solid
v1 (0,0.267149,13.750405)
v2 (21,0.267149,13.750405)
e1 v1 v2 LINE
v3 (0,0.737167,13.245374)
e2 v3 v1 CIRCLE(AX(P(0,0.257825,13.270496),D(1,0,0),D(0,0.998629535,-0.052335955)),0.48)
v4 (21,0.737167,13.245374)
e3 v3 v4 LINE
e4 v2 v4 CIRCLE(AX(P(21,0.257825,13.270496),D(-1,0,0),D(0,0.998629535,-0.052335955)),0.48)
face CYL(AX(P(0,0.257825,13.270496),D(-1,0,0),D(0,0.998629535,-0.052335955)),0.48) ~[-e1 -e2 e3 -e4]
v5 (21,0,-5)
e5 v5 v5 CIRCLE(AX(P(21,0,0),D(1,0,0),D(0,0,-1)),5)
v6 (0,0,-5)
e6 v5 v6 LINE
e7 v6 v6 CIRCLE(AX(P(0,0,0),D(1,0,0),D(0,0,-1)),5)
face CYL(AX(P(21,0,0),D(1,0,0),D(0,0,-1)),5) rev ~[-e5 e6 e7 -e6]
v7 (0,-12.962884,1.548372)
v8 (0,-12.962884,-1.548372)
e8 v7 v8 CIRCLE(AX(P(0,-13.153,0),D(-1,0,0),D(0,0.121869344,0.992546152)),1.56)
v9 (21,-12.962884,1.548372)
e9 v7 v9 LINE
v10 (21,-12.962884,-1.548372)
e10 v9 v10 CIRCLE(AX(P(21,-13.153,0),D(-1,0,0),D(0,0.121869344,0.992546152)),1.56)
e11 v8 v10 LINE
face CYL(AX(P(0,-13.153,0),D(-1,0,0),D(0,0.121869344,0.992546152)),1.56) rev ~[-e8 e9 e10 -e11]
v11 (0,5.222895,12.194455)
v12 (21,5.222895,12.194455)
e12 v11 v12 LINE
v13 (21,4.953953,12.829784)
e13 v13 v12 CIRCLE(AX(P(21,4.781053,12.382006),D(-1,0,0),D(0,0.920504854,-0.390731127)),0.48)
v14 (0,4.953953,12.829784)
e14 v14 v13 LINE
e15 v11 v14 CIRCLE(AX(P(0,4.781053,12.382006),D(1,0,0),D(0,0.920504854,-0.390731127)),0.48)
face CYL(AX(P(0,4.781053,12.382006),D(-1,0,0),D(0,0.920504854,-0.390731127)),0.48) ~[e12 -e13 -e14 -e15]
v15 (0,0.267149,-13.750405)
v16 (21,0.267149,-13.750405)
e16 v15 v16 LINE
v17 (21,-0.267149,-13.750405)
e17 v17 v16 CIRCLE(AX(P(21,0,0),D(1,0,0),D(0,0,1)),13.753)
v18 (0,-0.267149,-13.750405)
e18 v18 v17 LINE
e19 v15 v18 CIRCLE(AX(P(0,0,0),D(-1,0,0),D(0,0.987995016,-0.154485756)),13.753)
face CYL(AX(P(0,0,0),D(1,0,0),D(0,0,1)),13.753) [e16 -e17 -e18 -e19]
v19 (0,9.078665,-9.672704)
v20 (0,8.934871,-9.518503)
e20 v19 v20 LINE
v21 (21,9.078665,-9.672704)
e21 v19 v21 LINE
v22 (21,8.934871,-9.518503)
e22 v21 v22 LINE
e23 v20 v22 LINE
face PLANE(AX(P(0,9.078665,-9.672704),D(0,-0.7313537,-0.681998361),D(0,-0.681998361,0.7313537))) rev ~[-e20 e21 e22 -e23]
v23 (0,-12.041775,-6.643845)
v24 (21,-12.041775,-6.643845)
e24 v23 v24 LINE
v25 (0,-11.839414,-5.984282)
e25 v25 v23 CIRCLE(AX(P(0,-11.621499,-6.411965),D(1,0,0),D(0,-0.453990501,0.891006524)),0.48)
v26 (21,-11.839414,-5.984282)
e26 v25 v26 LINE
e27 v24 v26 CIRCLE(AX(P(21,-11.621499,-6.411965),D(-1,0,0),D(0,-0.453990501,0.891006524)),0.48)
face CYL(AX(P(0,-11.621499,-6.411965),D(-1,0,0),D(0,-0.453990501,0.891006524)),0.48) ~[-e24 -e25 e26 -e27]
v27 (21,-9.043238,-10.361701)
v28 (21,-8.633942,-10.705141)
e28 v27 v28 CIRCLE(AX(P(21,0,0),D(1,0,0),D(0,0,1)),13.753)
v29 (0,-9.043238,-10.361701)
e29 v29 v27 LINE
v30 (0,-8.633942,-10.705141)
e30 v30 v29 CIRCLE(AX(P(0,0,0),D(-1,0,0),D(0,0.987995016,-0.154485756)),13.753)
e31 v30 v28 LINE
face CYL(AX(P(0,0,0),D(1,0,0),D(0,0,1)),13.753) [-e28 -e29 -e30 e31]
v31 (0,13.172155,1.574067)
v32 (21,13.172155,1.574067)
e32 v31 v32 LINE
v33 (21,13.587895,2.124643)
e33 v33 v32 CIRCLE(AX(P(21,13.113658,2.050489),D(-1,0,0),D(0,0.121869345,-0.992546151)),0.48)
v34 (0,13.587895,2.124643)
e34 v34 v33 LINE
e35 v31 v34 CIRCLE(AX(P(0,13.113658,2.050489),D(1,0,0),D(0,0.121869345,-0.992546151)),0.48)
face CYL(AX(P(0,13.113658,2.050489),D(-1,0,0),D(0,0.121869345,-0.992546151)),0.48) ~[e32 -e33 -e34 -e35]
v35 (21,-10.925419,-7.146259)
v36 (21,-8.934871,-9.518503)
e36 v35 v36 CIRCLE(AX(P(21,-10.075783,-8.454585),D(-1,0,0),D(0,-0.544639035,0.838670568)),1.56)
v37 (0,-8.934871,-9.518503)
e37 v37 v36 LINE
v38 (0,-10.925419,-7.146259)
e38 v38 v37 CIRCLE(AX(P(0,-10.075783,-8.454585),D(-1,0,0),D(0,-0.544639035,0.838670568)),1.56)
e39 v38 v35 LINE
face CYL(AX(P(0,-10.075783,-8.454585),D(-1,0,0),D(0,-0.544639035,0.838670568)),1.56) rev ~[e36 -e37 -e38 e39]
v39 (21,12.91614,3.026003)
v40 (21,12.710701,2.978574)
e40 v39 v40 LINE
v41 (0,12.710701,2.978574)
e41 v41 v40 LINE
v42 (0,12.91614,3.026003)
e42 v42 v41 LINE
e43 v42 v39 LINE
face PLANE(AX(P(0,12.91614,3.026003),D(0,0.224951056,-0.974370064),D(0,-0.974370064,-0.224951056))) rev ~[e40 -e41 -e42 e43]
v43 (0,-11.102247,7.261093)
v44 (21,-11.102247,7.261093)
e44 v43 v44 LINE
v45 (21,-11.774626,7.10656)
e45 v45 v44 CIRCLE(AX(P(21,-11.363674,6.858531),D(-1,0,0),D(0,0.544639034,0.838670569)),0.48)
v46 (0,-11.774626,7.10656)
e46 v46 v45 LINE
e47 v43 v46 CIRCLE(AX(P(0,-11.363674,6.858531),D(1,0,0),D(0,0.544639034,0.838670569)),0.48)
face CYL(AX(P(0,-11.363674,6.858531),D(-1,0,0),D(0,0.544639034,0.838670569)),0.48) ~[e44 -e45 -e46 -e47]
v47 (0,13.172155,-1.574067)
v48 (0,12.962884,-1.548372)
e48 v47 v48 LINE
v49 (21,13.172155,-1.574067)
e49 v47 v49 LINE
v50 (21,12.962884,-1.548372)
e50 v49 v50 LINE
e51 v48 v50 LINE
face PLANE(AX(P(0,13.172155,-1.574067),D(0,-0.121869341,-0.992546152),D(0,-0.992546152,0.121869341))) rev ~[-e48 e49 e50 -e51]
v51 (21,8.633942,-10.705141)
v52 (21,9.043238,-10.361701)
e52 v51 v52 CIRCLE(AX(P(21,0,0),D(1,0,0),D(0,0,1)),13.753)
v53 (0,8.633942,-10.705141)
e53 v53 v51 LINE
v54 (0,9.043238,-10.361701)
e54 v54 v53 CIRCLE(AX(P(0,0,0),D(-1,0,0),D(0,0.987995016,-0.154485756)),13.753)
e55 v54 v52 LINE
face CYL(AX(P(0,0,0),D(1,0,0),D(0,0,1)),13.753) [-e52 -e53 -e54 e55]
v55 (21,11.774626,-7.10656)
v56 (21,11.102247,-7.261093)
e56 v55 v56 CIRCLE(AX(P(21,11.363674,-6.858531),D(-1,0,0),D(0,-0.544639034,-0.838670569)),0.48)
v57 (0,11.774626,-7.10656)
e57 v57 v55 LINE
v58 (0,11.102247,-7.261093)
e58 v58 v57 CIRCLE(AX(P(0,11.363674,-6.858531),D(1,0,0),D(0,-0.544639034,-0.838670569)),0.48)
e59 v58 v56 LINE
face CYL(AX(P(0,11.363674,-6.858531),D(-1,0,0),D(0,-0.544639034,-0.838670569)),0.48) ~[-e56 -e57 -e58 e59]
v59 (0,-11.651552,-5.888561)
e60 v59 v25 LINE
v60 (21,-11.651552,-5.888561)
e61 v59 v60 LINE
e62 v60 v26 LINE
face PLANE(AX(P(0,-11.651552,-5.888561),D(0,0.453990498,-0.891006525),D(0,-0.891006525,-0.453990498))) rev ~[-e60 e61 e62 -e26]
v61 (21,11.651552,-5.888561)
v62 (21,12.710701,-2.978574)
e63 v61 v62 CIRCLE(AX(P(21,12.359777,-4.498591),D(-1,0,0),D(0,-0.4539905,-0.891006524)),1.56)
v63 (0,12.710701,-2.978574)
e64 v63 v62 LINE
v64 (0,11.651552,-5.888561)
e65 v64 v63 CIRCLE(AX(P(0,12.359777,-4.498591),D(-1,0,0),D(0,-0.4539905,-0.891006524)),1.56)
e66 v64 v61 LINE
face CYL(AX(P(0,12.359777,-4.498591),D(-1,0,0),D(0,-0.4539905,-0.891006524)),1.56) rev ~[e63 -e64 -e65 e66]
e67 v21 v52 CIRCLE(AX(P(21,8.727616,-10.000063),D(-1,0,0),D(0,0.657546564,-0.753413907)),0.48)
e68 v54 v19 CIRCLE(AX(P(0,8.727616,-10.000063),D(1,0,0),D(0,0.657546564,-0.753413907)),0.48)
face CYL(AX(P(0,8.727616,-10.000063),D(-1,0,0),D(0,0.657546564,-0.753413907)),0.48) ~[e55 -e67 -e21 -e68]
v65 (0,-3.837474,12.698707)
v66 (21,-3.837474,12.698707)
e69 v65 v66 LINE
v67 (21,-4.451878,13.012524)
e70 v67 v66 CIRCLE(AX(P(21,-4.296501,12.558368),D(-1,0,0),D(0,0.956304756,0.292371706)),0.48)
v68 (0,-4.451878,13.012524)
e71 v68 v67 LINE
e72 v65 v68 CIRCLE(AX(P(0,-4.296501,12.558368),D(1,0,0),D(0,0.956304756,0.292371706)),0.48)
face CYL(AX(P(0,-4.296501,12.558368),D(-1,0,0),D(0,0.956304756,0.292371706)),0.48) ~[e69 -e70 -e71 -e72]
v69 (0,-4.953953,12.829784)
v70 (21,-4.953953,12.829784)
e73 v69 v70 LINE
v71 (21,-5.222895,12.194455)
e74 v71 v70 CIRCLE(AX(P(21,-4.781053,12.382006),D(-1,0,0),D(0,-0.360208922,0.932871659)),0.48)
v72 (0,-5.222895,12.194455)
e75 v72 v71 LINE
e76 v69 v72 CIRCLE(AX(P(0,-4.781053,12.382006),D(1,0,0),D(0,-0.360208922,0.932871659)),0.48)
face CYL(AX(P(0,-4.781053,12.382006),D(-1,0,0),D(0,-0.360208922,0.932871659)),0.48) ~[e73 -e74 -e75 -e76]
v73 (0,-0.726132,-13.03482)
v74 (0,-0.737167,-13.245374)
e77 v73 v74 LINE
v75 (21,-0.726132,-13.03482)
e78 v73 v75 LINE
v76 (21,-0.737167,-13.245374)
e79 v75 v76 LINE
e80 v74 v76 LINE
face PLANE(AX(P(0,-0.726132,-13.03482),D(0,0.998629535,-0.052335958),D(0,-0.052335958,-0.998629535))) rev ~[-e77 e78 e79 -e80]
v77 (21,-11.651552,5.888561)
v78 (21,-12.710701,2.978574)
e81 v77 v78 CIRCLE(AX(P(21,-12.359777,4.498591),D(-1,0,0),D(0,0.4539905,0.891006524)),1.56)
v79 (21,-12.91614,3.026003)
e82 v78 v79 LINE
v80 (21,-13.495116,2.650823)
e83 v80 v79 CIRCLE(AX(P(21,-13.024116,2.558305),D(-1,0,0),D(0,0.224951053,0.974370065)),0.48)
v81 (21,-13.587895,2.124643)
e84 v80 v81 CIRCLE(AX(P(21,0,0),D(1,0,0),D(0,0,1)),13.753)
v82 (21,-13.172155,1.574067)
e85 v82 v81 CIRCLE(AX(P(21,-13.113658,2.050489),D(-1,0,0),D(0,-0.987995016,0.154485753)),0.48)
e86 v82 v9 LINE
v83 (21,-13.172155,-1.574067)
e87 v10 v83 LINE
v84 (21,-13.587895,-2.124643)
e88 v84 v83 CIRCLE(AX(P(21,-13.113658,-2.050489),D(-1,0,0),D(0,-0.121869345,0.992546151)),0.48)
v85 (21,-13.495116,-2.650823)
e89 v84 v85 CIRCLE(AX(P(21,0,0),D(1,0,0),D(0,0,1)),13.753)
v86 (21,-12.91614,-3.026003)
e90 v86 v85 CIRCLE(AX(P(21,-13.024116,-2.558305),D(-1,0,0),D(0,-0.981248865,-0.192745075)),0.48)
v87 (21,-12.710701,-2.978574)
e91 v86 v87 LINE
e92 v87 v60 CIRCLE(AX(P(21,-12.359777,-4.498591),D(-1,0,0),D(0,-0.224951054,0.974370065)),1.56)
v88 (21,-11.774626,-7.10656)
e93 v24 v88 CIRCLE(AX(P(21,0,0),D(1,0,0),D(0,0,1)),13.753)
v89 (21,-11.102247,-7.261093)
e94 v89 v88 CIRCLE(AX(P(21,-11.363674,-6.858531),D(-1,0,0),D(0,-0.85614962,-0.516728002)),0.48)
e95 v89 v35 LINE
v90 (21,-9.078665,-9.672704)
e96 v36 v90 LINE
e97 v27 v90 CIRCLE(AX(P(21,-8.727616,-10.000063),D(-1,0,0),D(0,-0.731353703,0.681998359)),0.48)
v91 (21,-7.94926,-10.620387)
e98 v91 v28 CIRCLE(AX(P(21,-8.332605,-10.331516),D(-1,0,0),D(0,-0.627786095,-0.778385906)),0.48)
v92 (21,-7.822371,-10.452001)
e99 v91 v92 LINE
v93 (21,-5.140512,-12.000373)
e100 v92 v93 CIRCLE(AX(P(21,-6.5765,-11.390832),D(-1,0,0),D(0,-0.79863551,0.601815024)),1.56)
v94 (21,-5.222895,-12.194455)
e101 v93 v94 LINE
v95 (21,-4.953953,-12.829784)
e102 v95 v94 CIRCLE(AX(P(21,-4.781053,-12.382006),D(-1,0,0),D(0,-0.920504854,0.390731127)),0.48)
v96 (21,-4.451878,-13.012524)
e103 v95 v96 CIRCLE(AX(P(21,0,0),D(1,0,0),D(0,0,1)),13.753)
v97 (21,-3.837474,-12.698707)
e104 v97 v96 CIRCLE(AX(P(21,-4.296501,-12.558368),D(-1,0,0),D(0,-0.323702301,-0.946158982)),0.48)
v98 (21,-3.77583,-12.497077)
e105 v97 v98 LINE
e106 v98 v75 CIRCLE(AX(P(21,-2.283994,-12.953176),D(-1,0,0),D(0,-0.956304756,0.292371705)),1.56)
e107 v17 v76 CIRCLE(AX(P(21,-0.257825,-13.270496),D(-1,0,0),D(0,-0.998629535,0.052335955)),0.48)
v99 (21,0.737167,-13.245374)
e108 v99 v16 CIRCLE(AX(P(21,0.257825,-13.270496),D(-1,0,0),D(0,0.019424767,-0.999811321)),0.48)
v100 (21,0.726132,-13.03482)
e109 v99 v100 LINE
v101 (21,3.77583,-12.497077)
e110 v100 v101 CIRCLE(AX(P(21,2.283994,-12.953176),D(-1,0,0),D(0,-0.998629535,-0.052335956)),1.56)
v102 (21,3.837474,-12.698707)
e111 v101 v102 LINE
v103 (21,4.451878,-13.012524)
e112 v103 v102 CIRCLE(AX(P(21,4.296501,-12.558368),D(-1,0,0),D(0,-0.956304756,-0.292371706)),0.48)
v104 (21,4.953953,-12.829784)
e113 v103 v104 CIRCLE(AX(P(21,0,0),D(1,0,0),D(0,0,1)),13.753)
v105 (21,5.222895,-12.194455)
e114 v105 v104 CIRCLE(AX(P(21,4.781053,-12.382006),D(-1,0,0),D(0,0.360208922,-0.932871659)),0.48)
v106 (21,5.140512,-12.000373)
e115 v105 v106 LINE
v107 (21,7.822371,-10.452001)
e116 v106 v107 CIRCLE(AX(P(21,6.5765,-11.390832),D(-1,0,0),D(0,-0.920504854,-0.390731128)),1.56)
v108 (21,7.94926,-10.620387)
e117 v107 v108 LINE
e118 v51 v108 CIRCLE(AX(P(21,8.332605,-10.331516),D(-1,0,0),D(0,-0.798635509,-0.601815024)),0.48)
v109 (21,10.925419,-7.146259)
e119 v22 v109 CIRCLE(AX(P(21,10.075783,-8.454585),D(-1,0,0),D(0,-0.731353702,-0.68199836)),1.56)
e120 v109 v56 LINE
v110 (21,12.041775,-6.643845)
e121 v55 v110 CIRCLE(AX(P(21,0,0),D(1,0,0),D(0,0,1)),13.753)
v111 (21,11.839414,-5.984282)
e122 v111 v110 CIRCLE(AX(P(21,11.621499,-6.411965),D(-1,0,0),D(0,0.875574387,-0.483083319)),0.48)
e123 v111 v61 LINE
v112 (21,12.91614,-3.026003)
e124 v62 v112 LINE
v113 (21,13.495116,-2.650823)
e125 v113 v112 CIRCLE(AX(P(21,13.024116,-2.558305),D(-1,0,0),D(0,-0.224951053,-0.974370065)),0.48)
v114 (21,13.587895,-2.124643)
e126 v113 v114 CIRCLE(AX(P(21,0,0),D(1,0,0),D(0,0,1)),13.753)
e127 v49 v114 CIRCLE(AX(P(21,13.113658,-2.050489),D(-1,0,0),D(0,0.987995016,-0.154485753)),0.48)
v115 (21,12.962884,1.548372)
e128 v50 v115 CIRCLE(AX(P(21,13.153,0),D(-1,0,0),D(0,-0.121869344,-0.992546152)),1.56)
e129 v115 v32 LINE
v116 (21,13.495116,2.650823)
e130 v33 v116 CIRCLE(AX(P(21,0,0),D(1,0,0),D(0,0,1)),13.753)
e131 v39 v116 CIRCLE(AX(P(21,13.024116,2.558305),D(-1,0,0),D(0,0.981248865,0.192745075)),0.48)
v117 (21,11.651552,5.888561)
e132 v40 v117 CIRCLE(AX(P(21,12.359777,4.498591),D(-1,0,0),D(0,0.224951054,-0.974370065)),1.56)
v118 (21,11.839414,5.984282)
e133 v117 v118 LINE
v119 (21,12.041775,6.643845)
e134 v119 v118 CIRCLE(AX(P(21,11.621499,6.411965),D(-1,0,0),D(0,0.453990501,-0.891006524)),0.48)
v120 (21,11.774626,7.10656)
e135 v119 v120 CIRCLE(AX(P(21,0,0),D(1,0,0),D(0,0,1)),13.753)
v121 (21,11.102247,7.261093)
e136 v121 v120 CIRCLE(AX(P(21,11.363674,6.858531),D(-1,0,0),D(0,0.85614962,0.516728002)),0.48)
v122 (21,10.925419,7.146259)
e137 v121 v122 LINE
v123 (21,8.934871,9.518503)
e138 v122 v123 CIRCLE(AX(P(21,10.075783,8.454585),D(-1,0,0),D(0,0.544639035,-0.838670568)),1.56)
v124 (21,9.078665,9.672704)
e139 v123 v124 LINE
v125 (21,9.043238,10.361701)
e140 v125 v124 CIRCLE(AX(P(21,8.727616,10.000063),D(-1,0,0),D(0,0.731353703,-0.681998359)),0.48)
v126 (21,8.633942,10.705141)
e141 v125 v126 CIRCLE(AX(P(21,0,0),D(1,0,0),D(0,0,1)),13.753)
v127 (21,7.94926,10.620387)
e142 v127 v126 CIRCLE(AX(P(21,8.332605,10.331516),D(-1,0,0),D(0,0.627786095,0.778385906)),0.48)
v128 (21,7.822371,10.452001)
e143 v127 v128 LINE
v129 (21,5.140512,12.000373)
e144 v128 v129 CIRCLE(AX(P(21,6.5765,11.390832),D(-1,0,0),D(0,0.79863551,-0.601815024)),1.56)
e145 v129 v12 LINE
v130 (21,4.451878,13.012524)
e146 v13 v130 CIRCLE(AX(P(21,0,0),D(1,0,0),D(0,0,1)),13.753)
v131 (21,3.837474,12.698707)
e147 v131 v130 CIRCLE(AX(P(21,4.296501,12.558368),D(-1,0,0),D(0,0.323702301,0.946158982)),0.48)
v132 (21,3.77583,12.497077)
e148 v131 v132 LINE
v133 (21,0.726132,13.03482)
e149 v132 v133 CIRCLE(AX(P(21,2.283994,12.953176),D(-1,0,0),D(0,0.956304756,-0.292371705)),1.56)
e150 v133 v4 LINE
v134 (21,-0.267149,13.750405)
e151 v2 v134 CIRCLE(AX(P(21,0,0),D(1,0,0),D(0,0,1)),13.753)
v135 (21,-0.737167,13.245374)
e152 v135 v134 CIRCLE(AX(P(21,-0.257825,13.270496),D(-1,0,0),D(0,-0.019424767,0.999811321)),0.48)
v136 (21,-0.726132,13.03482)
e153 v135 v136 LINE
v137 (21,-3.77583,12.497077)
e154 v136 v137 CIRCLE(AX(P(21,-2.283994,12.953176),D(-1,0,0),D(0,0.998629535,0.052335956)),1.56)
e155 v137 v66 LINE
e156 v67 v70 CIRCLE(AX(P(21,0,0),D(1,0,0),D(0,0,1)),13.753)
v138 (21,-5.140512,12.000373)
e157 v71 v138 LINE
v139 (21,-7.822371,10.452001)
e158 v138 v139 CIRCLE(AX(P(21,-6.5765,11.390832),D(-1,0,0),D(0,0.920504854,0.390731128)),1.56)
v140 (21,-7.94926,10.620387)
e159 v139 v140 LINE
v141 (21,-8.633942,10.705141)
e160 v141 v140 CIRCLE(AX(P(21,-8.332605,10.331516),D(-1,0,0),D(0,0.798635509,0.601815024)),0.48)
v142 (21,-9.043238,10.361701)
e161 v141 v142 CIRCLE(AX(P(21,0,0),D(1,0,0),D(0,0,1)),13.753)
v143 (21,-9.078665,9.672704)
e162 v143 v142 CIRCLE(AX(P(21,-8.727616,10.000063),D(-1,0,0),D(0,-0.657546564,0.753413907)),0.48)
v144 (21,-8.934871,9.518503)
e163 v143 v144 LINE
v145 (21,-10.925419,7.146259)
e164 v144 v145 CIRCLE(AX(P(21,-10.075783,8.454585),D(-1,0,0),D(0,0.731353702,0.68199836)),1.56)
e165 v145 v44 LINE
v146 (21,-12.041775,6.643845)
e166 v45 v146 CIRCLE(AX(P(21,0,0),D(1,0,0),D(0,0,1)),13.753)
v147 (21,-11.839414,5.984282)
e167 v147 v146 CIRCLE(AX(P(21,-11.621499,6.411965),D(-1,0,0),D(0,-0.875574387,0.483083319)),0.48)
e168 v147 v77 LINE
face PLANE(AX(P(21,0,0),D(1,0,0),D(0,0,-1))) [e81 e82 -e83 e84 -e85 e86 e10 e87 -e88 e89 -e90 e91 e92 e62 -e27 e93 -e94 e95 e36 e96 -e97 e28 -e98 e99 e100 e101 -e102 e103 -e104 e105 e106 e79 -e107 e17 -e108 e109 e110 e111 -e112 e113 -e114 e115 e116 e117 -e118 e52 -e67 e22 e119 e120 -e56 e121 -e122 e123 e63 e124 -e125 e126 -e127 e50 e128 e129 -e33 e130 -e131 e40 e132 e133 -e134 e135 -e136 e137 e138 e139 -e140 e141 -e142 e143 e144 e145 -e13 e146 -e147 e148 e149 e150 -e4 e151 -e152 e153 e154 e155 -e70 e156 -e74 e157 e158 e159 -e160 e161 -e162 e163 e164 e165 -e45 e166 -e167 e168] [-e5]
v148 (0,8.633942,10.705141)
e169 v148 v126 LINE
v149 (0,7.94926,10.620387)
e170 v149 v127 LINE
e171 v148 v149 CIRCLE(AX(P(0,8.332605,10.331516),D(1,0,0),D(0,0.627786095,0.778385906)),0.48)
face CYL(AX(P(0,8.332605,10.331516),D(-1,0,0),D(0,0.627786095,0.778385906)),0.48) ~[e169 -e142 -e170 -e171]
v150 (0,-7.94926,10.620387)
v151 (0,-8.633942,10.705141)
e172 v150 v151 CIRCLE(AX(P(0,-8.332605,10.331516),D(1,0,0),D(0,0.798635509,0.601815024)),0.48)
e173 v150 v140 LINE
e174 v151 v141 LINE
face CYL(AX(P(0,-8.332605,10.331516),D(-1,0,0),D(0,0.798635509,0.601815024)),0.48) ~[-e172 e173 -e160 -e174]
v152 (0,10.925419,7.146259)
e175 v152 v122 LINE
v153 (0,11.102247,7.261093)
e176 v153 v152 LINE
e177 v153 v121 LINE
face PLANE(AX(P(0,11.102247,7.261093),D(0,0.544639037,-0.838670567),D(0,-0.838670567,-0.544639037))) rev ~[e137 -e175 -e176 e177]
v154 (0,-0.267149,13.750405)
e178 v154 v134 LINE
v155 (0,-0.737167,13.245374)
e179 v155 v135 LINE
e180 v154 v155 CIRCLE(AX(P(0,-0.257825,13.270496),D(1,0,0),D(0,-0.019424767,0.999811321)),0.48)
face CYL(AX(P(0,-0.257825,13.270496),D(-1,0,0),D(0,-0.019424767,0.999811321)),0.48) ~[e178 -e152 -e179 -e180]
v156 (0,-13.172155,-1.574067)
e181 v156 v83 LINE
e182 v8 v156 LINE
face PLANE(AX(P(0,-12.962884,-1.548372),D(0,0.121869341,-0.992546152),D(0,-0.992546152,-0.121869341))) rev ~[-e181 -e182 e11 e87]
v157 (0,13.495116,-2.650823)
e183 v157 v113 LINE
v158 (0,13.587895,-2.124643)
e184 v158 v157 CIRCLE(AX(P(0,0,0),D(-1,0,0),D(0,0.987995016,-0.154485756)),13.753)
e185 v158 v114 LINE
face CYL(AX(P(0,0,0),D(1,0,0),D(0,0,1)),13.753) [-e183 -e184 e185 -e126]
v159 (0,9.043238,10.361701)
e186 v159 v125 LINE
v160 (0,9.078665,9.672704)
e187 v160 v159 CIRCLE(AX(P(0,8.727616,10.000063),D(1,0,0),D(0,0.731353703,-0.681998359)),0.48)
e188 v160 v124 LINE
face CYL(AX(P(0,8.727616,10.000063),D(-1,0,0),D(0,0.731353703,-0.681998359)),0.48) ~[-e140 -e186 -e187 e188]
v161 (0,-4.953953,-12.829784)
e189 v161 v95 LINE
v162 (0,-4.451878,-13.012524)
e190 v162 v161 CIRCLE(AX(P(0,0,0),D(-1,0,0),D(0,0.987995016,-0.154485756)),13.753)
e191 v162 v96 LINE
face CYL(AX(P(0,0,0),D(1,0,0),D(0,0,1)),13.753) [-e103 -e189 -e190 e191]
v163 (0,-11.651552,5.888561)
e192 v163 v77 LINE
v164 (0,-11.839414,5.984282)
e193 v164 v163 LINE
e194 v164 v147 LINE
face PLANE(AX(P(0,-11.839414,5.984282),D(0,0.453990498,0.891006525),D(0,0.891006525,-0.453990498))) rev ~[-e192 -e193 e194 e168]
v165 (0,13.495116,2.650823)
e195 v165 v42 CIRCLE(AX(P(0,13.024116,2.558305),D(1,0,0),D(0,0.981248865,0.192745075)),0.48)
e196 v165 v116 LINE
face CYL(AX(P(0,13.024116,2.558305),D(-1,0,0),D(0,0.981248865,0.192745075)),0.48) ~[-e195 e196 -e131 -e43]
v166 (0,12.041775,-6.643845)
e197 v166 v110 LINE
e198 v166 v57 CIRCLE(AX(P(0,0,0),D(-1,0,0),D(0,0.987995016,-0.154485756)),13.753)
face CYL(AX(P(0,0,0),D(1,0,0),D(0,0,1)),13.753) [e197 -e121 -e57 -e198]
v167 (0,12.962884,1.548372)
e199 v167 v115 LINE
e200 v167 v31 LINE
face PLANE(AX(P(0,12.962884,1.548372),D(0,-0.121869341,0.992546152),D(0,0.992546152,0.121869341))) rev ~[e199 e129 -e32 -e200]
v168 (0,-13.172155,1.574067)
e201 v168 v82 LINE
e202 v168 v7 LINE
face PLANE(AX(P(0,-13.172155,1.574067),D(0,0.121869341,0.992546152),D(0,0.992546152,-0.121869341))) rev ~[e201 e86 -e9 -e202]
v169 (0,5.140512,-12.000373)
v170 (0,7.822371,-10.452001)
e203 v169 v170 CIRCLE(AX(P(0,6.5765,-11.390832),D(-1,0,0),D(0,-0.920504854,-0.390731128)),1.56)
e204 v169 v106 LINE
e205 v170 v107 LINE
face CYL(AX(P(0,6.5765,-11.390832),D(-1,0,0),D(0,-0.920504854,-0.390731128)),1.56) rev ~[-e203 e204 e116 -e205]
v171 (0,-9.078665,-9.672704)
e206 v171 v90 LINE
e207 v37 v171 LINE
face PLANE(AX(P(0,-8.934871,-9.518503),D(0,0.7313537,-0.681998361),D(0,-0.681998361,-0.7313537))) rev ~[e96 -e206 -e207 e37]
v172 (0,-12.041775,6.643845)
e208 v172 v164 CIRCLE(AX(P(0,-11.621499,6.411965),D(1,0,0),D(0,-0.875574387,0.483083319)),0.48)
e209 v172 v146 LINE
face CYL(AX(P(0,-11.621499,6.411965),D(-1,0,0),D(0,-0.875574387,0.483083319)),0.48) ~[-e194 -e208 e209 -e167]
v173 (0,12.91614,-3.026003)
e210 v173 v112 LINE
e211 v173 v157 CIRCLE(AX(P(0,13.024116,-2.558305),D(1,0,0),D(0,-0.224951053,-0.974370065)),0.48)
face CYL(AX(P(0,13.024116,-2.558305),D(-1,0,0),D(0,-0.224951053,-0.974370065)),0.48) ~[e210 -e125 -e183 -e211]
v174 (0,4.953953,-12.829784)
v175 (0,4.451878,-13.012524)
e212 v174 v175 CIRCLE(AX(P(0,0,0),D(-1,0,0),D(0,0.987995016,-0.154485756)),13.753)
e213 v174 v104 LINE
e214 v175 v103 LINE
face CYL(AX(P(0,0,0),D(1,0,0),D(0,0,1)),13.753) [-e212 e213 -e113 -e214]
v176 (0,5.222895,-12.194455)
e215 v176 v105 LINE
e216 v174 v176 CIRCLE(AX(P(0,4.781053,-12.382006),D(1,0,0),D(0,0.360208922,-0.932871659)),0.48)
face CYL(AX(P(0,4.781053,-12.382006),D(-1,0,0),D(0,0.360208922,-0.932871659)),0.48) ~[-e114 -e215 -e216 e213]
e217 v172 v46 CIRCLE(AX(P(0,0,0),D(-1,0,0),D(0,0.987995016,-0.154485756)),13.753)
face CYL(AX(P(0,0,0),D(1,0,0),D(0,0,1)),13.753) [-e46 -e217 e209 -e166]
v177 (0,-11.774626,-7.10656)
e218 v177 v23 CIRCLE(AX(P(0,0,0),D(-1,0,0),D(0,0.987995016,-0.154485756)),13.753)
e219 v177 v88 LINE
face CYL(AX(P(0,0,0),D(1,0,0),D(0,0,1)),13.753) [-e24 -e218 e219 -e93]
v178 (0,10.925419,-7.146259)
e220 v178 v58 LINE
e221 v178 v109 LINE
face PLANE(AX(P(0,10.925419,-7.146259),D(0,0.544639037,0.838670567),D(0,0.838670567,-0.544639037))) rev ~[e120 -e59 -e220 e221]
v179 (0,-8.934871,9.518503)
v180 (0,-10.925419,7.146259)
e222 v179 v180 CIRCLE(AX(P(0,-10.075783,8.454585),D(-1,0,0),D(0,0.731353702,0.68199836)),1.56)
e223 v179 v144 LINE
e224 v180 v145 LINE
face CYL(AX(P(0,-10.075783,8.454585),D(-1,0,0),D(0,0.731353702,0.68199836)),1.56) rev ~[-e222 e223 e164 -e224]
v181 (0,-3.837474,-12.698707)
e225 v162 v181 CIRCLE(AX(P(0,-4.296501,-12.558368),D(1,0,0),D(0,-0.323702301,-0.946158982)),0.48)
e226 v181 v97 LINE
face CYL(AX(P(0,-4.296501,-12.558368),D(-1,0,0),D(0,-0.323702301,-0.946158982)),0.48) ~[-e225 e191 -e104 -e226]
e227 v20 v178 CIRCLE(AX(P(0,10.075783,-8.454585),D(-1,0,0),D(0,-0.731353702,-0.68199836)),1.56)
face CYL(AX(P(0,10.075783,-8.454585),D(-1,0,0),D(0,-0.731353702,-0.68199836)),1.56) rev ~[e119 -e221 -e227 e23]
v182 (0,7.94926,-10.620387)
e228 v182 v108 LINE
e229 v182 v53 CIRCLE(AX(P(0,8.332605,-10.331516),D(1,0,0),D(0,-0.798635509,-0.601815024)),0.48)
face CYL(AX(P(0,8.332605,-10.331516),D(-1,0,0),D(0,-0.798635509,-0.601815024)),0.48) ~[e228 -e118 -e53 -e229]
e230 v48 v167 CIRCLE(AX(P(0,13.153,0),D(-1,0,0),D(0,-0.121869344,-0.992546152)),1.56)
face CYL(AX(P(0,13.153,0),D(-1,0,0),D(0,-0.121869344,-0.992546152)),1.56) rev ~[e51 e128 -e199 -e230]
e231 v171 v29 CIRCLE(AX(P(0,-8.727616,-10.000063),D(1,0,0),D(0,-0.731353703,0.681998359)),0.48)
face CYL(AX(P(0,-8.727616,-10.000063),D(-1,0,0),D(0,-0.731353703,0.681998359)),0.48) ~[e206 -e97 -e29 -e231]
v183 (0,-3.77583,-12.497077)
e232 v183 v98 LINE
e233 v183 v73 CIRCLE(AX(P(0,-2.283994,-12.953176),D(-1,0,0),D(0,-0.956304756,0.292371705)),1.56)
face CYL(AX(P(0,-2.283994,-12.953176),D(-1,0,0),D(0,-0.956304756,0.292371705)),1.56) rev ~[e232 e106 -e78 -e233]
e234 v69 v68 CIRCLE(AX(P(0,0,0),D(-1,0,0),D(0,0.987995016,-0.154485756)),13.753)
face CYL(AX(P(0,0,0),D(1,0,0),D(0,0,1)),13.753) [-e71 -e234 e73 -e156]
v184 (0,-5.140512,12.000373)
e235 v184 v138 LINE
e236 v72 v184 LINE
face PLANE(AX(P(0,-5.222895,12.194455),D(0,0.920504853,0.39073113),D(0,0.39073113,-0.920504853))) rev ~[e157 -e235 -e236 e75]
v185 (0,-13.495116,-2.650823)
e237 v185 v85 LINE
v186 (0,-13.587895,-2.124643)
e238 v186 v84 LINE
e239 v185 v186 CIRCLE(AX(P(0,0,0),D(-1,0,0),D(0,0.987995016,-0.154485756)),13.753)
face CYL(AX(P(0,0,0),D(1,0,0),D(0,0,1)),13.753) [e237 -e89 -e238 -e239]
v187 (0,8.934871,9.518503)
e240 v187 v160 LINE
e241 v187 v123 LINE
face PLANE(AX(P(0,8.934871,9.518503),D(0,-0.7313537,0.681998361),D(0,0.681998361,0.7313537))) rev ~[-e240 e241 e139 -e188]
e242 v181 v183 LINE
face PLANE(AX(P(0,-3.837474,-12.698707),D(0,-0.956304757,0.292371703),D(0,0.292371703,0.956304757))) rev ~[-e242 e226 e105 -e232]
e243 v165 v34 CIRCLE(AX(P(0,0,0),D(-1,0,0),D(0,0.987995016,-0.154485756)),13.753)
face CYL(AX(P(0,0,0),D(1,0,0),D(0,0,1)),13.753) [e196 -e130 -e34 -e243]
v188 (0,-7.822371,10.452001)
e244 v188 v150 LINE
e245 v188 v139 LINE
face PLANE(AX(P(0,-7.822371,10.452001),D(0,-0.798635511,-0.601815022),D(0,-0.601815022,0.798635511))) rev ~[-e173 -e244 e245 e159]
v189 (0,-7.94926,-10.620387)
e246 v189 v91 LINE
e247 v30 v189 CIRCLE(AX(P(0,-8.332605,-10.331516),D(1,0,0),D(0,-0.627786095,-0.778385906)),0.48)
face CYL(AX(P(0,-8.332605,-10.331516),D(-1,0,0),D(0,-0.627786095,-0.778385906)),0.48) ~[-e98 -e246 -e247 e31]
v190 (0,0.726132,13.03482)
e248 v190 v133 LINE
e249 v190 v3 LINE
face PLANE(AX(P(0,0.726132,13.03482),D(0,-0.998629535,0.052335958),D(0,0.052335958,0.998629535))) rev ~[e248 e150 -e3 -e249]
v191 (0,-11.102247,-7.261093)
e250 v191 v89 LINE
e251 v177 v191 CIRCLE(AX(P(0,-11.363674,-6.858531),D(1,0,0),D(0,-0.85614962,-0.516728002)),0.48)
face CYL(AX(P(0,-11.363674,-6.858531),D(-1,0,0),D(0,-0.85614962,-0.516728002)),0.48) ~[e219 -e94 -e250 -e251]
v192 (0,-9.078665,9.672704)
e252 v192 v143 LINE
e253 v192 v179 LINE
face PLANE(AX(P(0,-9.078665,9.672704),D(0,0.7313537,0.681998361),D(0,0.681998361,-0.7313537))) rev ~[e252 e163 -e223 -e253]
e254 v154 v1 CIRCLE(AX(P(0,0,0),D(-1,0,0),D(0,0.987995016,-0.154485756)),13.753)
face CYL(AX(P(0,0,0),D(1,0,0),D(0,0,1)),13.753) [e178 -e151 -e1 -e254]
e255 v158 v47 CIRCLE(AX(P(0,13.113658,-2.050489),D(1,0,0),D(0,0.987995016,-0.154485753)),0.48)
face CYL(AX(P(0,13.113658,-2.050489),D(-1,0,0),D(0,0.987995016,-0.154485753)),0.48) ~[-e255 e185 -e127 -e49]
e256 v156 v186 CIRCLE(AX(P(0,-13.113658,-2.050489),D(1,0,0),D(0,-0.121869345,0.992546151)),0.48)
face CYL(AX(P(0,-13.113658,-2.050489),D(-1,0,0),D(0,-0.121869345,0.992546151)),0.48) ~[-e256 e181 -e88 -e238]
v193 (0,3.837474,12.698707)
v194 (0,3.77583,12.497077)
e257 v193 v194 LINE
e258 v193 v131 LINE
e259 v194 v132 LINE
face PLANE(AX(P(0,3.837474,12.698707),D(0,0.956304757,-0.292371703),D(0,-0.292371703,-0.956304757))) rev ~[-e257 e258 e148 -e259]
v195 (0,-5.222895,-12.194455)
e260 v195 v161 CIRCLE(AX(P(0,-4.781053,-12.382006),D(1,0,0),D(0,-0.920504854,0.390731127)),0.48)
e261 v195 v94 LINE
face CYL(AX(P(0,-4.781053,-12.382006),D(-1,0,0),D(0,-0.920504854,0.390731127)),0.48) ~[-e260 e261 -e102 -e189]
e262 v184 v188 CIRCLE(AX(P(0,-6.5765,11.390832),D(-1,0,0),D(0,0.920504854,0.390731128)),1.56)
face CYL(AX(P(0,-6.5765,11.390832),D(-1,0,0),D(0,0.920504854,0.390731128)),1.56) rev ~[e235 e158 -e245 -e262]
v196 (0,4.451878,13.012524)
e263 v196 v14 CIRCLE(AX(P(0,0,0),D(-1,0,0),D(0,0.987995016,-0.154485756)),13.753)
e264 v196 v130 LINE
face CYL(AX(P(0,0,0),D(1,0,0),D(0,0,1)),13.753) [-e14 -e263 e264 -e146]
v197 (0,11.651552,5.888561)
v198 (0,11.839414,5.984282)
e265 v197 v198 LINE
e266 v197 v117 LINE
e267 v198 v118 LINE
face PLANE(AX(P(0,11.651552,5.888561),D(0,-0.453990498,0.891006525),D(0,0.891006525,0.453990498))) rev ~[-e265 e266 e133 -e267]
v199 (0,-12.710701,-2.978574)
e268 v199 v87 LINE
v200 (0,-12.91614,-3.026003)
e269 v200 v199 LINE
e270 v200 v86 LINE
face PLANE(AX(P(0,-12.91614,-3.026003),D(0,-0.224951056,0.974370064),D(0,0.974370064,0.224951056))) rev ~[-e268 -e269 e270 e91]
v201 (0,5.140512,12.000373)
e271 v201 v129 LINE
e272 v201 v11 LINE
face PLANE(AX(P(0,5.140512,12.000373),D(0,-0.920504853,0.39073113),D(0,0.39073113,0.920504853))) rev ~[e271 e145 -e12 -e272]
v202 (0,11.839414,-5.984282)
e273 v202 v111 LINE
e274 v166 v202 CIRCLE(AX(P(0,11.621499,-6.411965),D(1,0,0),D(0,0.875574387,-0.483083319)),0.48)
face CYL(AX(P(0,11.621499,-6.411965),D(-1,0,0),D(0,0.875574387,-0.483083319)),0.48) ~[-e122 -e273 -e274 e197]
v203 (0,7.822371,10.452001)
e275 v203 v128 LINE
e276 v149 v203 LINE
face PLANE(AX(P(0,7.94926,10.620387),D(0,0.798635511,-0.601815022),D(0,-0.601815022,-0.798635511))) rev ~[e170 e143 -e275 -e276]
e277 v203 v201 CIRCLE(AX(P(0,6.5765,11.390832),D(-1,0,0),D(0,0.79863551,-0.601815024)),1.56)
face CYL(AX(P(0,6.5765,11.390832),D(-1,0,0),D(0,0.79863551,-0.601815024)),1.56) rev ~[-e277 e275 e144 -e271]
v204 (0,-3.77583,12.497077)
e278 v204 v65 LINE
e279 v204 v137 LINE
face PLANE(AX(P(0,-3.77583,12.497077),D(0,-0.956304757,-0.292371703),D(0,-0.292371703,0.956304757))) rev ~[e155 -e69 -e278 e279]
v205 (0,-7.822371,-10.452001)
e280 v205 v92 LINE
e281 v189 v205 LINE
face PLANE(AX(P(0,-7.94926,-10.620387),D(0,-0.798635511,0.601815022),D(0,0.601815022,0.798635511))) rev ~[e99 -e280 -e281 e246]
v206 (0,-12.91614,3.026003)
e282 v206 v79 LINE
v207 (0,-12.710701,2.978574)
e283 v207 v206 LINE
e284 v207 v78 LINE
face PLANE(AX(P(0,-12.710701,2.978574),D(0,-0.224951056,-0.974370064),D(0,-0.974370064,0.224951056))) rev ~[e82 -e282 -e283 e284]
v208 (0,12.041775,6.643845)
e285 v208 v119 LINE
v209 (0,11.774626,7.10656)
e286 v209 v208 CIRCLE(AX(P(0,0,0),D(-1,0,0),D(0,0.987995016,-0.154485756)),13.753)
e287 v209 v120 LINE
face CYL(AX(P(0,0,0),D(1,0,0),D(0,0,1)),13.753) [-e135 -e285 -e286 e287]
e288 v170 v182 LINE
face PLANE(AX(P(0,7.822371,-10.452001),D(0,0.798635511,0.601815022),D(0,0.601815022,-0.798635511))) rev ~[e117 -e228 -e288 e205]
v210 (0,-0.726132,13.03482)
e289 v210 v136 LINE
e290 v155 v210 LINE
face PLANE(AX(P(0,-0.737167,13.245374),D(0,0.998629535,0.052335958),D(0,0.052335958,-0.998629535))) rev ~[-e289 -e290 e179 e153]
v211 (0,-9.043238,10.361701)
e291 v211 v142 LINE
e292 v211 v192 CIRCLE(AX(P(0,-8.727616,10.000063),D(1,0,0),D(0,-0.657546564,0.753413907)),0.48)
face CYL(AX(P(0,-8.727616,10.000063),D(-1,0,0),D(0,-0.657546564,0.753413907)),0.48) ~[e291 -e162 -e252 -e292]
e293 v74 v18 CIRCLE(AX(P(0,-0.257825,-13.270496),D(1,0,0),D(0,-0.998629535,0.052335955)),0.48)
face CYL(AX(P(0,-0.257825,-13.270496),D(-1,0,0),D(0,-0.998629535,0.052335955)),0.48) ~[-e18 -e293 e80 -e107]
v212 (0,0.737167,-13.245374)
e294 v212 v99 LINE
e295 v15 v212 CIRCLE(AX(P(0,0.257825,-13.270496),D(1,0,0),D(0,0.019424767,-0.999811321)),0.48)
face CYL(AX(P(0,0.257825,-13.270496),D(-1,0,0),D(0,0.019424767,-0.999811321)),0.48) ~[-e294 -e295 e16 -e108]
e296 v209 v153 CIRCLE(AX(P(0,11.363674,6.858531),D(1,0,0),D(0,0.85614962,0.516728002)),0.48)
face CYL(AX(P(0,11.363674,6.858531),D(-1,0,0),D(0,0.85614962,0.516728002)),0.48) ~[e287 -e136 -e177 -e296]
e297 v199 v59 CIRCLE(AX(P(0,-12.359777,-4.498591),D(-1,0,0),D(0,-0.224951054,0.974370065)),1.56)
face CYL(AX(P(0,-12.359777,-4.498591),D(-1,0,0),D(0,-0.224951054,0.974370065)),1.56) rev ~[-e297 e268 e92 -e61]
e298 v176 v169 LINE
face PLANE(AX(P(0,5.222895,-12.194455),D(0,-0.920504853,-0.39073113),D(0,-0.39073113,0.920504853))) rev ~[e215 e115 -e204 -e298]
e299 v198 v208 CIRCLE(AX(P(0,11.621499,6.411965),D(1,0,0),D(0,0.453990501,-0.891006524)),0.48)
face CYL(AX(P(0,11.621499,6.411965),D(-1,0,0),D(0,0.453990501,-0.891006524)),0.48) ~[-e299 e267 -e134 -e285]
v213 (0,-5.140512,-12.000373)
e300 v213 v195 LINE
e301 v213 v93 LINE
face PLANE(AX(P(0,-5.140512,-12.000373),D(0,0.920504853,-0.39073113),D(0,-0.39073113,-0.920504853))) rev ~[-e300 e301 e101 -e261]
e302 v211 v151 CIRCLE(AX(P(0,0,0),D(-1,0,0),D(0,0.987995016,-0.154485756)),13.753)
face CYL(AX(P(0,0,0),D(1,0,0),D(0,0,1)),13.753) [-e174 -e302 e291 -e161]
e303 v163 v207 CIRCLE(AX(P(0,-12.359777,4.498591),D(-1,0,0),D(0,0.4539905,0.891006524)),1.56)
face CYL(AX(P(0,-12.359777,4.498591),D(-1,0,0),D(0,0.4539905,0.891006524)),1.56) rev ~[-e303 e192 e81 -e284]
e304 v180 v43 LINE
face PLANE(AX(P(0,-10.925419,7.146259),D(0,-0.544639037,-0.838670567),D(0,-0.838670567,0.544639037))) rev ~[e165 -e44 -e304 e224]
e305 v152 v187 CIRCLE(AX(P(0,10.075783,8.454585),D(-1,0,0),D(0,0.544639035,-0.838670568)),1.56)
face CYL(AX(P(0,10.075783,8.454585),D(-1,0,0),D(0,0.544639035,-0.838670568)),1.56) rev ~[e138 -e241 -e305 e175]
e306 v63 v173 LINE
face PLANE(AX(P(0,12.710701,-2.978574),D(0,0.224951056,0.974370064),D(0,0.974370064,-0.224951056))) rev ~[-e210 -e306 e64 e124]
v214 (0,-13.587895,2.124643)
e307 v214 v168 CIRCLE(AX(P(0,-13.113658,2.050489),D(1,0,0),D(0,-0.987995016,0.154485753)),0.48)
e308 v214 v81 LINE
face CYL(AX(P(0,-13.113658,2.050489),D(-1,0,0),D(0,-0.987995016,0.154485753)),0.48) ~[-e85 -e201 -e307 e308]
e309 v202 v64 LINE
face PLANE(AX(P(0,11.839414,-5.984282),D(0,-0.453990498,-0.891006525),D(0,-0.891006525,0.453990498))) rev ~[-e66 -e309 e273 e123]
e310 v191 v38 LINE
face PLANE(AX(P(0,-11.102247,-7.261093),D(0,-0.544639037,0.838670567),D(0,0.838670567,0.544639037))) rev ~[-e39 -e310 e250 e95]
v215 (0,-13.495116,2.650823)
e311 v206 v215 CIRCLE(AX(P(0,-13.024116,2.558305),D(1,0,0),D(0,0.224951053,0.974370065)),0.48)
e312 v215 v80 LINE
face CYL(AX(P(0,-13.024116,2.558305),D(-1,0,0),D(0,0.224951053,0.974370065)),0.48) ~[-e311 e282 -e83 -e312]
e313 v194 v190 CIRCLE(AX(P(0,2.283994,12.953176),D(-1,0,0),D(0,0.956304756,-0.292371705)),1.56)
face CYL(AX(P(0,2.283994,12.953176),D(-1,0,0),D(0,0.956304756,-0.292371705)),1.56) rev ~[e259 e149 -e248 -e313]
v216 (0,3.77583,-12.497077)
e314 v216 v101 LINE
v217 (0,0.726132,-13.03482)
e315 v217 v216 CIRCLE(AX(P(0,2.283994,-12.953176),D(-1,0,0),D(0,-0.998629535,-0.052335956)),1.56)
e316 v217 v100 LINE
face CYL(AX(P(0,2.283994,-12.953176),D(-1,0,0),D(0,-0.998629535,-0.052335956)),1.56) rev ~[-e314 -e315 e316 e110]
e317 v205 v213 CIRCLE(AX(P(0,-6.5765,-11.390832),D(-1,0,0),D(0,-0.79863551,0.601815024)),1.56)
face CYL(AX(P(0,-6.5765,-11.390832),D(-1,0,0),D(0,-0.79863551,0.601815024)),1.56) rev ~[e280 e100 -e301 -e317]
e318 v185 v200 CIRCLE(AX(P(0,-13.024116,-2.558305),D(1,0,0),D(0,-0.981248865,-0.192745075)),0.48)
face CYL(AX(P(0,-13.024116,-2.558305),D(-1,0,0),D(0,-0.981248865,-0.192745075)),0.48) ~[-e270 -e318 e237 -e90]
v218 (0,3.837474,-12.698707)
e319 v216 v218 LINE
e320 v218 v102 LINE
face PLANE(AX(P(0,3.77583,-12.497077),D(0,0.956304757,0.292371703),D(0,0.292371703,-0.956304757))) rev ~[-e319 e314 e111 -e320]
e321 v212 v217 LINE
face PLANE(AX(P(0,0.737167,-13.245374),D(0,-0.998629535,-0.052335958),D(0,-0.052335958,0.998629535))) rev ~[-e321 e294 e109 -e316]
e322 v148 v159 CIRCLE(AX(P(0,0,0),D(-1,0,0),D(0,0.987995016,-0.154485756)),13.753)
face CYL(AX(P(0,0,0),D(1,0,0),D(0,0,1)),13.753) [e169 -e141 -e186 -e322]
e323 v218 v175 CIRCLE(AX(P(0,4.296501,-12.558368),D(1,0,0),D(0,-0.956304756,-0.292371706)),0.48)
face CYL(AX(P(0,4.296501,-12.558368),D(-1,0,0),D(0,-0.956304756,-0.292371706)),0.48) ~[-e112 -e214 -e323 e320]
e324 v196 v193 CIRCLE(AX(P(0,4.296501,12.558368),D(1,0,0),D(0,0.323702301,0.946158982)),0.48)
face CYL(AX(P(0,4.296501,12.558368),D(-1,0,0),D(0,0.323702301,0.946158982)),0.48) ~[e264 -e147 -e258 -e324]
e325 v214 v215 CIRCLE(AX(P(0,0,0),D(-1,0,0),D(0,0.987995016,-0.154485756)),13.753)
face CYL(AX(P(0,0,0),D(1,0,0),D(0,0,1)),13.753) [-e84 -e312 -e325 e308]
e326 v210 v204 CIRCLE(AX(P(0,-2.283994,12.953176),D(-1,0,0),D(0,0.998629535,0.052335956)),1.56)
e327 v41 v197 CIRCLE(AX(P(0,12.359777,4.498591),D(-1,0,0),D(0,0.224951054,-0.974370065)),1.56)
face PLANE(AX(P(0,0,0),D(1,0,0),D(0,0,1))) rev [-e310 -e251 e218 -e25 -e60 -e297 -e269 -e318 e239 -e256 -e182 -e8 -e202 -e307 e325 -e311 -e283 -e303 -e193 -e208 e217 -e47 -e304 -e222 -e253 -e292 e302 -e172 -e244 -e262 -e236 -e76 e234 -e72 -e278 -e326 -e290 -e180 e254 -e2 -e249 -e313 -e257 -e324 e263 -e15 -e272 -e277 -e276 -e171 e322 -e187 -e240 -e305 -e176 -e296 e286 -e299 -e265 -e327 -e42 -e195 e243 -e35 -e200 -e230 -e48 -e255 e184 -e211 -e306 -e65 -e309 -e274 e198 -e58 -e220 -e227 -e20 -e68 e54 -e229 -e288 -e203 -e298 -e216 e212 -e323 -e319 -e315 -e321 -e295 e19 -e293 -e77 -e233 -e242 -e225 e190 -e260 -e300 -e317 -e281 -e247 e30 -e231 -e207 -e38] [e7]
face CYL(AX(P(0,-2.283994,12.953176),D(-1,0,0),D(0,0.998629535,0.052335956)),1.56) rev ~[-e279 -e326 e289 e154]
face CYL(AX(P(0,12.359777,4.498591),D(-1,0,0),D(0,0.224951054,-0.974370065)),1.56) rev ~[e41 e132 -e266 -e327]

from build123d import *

# Parameters (mm, degrees)
CHAMFER_1_SIZE           = 1
SKETCH_4_W               = 2
SKETCH_4_H               = 1
CUT_EXTRUDE_1_DEPTH      = 35.092374778
CUT_EXTRUDE_2_REACH      = 36.092
PATTERN_CIRCULAR_3_COUNT = 18
SKETCH_7_R               = 16.570868864
CUT_EXTRUDE_3_DEPTH      = 7
SKETCH_8_R               = 8.79239993
EXTRUDE_1_DEPTH          = 21
SKETCH_9_R               = 5
CUT_EXTRUDE_4_DEPTH      = 21


with BuildPart() as part:
    # 草图1 → 旋转1 (revolve)
    with BuildSketch(Plane.XY, mode=Mode.PRIVATE) as revolve_1_sk:
        Polygon((0, 2.7506), (0, 13.753), (28, 13.753), (28, 5.5012), (20, 5.5012), (20, 2.7506), align=None)
    revolve(revolve_1_sk.sketch.rotate(Axis((0, 0, 0), (1, 0, 0)), 90), axis=Axis((0, 0, 0), (1, 0, 0)))

    # 倒角1
    chamfer_1_edges = [part.edges().sort_by_distance(p)[0] for p in [
        (20, 0, -2.7506),
        (0, 0, -2.7506),
    ]]
    chamfer(chamfer_1_edges, length=CHAMFER_1_SIZE)

    # 草图4 → 切除-拉伸1 (cut, through all)
    with BuildSketch(Plane.ZY):
        with Locations((0, 3.062381775)):
            Rectangle(SKETCH_4_W, SKETCH_4_H)
    extrude(amount=-CUT_EXTRUDE_1_DEPTH, mode=Mode.SUBTRACT)

    # 草图6 → 切除-拉伸2 (cut, up to next)
    with BuildSketch(Plane(origin=(0, 0, 0), x_dir=(0, 0, -1), z_dir=(1, 0, 0)), mode=Mode.PRIVATE) as cut_extrude_2_sk1:
        with BuildLine():
            Line((1.574067282, 13.17215513), (1.548371997, 12.962883824))
            ThreePointArc((1.548371997, 12.962883824), (0, 11.593), (-1.548371997, 12.962883824))
            Line((-1.548371997, 12.962883824), (-1.574067282, 13.17215513))
            ThreePointArc((-1.574067282, 13.17215513), (-1.761240253, 13.496717776), (-2.124642597, 13.587895453))
            ThreePointArc((-2.124642597, 13.587895453), (-2.36143787, 13.548749765), (-2.597513963, 13.505477785))
            Line((-2.597513963, 13.505477785), (-2.794161951, 15.107047128))
            ThreePointArc((-2.794161951, 15.107047128), (0, 15.363274844), (2.794161951, 15.107047128))
            Line((2.794161951, 15.107047128), (2.597513963, 13.505477785))
            ThreePointArc((2.597513963, 13.505477785), (2.36143787, 13.548749765), (2.124642597, 13.587895453))
            ThreePointArc((2.124642597, 13.587895453), (1.761240253, 13.496717776), (1.574067282, 13.17215513))
        make_face()
    cut_extrude_2_tool1 = extrude(cut_extrude_2_sk1.sketch, amount=CUT_EXTRUDE_2_REACH, mode=Mode.PRIVATE) & part.part
    cut_extrude_2 = cut_extrude_2_tool1.solids().sort_by_distance((0, 13.819423, 0))[0]
    add(cut_extrude_2, mode=Mode.SUBTRACT)

    # 阵列(圆周)3: 切除-拉伸2 ×18 about axis
    pattern_circular_3_axis = Axis((0, 0, 0), (1, 0, 0))
    for i in range(1, PATTERN_CIRCULAR_3_COUNT):
        add(cut_extrude_2.rotate(pattern_circular_3_axis, i * 360 / PATTERN_CIRCULAR_3_COUNT), mode=Mode.SUBTRACT)

    # 草图7 → 切除-拉伸3 (cut)
    with BuildSketch(Plane(origin=(28, 0, 0), x_dir=(0, 0, -1), z_dir=(1, 0, 0))):
        Circle(SKETCH_7_R)
    extrude(amount=-CUT_EXTRUDE_3_DEPTH, mode=Mode.SUBTRACT)

    # 草图8 → 凸台-拉伸1 (add)
    with BuildSketch(Plane(origin=(21, 0, 0), x_dir=(0, 0, -1), z_dir=(1, 0, 0))):
        Circle(SKETCH_8_R)
    extrude(amount=-EXTRUDE_1_DEPTH)

    # 草图9 → 切除-拉伸4 (cut)
    with BuildSketch(Plane(origin=(21, 0, 0), x_dir=(0, 0, -1), z_dir=(1, 0, 0))):
        Circle(SKETCH_9_R)
    extrude(amount=-CUT_EXTRUDE_4_DEPTH, mode=Mode.SUBTRACT)


solid = part.part
